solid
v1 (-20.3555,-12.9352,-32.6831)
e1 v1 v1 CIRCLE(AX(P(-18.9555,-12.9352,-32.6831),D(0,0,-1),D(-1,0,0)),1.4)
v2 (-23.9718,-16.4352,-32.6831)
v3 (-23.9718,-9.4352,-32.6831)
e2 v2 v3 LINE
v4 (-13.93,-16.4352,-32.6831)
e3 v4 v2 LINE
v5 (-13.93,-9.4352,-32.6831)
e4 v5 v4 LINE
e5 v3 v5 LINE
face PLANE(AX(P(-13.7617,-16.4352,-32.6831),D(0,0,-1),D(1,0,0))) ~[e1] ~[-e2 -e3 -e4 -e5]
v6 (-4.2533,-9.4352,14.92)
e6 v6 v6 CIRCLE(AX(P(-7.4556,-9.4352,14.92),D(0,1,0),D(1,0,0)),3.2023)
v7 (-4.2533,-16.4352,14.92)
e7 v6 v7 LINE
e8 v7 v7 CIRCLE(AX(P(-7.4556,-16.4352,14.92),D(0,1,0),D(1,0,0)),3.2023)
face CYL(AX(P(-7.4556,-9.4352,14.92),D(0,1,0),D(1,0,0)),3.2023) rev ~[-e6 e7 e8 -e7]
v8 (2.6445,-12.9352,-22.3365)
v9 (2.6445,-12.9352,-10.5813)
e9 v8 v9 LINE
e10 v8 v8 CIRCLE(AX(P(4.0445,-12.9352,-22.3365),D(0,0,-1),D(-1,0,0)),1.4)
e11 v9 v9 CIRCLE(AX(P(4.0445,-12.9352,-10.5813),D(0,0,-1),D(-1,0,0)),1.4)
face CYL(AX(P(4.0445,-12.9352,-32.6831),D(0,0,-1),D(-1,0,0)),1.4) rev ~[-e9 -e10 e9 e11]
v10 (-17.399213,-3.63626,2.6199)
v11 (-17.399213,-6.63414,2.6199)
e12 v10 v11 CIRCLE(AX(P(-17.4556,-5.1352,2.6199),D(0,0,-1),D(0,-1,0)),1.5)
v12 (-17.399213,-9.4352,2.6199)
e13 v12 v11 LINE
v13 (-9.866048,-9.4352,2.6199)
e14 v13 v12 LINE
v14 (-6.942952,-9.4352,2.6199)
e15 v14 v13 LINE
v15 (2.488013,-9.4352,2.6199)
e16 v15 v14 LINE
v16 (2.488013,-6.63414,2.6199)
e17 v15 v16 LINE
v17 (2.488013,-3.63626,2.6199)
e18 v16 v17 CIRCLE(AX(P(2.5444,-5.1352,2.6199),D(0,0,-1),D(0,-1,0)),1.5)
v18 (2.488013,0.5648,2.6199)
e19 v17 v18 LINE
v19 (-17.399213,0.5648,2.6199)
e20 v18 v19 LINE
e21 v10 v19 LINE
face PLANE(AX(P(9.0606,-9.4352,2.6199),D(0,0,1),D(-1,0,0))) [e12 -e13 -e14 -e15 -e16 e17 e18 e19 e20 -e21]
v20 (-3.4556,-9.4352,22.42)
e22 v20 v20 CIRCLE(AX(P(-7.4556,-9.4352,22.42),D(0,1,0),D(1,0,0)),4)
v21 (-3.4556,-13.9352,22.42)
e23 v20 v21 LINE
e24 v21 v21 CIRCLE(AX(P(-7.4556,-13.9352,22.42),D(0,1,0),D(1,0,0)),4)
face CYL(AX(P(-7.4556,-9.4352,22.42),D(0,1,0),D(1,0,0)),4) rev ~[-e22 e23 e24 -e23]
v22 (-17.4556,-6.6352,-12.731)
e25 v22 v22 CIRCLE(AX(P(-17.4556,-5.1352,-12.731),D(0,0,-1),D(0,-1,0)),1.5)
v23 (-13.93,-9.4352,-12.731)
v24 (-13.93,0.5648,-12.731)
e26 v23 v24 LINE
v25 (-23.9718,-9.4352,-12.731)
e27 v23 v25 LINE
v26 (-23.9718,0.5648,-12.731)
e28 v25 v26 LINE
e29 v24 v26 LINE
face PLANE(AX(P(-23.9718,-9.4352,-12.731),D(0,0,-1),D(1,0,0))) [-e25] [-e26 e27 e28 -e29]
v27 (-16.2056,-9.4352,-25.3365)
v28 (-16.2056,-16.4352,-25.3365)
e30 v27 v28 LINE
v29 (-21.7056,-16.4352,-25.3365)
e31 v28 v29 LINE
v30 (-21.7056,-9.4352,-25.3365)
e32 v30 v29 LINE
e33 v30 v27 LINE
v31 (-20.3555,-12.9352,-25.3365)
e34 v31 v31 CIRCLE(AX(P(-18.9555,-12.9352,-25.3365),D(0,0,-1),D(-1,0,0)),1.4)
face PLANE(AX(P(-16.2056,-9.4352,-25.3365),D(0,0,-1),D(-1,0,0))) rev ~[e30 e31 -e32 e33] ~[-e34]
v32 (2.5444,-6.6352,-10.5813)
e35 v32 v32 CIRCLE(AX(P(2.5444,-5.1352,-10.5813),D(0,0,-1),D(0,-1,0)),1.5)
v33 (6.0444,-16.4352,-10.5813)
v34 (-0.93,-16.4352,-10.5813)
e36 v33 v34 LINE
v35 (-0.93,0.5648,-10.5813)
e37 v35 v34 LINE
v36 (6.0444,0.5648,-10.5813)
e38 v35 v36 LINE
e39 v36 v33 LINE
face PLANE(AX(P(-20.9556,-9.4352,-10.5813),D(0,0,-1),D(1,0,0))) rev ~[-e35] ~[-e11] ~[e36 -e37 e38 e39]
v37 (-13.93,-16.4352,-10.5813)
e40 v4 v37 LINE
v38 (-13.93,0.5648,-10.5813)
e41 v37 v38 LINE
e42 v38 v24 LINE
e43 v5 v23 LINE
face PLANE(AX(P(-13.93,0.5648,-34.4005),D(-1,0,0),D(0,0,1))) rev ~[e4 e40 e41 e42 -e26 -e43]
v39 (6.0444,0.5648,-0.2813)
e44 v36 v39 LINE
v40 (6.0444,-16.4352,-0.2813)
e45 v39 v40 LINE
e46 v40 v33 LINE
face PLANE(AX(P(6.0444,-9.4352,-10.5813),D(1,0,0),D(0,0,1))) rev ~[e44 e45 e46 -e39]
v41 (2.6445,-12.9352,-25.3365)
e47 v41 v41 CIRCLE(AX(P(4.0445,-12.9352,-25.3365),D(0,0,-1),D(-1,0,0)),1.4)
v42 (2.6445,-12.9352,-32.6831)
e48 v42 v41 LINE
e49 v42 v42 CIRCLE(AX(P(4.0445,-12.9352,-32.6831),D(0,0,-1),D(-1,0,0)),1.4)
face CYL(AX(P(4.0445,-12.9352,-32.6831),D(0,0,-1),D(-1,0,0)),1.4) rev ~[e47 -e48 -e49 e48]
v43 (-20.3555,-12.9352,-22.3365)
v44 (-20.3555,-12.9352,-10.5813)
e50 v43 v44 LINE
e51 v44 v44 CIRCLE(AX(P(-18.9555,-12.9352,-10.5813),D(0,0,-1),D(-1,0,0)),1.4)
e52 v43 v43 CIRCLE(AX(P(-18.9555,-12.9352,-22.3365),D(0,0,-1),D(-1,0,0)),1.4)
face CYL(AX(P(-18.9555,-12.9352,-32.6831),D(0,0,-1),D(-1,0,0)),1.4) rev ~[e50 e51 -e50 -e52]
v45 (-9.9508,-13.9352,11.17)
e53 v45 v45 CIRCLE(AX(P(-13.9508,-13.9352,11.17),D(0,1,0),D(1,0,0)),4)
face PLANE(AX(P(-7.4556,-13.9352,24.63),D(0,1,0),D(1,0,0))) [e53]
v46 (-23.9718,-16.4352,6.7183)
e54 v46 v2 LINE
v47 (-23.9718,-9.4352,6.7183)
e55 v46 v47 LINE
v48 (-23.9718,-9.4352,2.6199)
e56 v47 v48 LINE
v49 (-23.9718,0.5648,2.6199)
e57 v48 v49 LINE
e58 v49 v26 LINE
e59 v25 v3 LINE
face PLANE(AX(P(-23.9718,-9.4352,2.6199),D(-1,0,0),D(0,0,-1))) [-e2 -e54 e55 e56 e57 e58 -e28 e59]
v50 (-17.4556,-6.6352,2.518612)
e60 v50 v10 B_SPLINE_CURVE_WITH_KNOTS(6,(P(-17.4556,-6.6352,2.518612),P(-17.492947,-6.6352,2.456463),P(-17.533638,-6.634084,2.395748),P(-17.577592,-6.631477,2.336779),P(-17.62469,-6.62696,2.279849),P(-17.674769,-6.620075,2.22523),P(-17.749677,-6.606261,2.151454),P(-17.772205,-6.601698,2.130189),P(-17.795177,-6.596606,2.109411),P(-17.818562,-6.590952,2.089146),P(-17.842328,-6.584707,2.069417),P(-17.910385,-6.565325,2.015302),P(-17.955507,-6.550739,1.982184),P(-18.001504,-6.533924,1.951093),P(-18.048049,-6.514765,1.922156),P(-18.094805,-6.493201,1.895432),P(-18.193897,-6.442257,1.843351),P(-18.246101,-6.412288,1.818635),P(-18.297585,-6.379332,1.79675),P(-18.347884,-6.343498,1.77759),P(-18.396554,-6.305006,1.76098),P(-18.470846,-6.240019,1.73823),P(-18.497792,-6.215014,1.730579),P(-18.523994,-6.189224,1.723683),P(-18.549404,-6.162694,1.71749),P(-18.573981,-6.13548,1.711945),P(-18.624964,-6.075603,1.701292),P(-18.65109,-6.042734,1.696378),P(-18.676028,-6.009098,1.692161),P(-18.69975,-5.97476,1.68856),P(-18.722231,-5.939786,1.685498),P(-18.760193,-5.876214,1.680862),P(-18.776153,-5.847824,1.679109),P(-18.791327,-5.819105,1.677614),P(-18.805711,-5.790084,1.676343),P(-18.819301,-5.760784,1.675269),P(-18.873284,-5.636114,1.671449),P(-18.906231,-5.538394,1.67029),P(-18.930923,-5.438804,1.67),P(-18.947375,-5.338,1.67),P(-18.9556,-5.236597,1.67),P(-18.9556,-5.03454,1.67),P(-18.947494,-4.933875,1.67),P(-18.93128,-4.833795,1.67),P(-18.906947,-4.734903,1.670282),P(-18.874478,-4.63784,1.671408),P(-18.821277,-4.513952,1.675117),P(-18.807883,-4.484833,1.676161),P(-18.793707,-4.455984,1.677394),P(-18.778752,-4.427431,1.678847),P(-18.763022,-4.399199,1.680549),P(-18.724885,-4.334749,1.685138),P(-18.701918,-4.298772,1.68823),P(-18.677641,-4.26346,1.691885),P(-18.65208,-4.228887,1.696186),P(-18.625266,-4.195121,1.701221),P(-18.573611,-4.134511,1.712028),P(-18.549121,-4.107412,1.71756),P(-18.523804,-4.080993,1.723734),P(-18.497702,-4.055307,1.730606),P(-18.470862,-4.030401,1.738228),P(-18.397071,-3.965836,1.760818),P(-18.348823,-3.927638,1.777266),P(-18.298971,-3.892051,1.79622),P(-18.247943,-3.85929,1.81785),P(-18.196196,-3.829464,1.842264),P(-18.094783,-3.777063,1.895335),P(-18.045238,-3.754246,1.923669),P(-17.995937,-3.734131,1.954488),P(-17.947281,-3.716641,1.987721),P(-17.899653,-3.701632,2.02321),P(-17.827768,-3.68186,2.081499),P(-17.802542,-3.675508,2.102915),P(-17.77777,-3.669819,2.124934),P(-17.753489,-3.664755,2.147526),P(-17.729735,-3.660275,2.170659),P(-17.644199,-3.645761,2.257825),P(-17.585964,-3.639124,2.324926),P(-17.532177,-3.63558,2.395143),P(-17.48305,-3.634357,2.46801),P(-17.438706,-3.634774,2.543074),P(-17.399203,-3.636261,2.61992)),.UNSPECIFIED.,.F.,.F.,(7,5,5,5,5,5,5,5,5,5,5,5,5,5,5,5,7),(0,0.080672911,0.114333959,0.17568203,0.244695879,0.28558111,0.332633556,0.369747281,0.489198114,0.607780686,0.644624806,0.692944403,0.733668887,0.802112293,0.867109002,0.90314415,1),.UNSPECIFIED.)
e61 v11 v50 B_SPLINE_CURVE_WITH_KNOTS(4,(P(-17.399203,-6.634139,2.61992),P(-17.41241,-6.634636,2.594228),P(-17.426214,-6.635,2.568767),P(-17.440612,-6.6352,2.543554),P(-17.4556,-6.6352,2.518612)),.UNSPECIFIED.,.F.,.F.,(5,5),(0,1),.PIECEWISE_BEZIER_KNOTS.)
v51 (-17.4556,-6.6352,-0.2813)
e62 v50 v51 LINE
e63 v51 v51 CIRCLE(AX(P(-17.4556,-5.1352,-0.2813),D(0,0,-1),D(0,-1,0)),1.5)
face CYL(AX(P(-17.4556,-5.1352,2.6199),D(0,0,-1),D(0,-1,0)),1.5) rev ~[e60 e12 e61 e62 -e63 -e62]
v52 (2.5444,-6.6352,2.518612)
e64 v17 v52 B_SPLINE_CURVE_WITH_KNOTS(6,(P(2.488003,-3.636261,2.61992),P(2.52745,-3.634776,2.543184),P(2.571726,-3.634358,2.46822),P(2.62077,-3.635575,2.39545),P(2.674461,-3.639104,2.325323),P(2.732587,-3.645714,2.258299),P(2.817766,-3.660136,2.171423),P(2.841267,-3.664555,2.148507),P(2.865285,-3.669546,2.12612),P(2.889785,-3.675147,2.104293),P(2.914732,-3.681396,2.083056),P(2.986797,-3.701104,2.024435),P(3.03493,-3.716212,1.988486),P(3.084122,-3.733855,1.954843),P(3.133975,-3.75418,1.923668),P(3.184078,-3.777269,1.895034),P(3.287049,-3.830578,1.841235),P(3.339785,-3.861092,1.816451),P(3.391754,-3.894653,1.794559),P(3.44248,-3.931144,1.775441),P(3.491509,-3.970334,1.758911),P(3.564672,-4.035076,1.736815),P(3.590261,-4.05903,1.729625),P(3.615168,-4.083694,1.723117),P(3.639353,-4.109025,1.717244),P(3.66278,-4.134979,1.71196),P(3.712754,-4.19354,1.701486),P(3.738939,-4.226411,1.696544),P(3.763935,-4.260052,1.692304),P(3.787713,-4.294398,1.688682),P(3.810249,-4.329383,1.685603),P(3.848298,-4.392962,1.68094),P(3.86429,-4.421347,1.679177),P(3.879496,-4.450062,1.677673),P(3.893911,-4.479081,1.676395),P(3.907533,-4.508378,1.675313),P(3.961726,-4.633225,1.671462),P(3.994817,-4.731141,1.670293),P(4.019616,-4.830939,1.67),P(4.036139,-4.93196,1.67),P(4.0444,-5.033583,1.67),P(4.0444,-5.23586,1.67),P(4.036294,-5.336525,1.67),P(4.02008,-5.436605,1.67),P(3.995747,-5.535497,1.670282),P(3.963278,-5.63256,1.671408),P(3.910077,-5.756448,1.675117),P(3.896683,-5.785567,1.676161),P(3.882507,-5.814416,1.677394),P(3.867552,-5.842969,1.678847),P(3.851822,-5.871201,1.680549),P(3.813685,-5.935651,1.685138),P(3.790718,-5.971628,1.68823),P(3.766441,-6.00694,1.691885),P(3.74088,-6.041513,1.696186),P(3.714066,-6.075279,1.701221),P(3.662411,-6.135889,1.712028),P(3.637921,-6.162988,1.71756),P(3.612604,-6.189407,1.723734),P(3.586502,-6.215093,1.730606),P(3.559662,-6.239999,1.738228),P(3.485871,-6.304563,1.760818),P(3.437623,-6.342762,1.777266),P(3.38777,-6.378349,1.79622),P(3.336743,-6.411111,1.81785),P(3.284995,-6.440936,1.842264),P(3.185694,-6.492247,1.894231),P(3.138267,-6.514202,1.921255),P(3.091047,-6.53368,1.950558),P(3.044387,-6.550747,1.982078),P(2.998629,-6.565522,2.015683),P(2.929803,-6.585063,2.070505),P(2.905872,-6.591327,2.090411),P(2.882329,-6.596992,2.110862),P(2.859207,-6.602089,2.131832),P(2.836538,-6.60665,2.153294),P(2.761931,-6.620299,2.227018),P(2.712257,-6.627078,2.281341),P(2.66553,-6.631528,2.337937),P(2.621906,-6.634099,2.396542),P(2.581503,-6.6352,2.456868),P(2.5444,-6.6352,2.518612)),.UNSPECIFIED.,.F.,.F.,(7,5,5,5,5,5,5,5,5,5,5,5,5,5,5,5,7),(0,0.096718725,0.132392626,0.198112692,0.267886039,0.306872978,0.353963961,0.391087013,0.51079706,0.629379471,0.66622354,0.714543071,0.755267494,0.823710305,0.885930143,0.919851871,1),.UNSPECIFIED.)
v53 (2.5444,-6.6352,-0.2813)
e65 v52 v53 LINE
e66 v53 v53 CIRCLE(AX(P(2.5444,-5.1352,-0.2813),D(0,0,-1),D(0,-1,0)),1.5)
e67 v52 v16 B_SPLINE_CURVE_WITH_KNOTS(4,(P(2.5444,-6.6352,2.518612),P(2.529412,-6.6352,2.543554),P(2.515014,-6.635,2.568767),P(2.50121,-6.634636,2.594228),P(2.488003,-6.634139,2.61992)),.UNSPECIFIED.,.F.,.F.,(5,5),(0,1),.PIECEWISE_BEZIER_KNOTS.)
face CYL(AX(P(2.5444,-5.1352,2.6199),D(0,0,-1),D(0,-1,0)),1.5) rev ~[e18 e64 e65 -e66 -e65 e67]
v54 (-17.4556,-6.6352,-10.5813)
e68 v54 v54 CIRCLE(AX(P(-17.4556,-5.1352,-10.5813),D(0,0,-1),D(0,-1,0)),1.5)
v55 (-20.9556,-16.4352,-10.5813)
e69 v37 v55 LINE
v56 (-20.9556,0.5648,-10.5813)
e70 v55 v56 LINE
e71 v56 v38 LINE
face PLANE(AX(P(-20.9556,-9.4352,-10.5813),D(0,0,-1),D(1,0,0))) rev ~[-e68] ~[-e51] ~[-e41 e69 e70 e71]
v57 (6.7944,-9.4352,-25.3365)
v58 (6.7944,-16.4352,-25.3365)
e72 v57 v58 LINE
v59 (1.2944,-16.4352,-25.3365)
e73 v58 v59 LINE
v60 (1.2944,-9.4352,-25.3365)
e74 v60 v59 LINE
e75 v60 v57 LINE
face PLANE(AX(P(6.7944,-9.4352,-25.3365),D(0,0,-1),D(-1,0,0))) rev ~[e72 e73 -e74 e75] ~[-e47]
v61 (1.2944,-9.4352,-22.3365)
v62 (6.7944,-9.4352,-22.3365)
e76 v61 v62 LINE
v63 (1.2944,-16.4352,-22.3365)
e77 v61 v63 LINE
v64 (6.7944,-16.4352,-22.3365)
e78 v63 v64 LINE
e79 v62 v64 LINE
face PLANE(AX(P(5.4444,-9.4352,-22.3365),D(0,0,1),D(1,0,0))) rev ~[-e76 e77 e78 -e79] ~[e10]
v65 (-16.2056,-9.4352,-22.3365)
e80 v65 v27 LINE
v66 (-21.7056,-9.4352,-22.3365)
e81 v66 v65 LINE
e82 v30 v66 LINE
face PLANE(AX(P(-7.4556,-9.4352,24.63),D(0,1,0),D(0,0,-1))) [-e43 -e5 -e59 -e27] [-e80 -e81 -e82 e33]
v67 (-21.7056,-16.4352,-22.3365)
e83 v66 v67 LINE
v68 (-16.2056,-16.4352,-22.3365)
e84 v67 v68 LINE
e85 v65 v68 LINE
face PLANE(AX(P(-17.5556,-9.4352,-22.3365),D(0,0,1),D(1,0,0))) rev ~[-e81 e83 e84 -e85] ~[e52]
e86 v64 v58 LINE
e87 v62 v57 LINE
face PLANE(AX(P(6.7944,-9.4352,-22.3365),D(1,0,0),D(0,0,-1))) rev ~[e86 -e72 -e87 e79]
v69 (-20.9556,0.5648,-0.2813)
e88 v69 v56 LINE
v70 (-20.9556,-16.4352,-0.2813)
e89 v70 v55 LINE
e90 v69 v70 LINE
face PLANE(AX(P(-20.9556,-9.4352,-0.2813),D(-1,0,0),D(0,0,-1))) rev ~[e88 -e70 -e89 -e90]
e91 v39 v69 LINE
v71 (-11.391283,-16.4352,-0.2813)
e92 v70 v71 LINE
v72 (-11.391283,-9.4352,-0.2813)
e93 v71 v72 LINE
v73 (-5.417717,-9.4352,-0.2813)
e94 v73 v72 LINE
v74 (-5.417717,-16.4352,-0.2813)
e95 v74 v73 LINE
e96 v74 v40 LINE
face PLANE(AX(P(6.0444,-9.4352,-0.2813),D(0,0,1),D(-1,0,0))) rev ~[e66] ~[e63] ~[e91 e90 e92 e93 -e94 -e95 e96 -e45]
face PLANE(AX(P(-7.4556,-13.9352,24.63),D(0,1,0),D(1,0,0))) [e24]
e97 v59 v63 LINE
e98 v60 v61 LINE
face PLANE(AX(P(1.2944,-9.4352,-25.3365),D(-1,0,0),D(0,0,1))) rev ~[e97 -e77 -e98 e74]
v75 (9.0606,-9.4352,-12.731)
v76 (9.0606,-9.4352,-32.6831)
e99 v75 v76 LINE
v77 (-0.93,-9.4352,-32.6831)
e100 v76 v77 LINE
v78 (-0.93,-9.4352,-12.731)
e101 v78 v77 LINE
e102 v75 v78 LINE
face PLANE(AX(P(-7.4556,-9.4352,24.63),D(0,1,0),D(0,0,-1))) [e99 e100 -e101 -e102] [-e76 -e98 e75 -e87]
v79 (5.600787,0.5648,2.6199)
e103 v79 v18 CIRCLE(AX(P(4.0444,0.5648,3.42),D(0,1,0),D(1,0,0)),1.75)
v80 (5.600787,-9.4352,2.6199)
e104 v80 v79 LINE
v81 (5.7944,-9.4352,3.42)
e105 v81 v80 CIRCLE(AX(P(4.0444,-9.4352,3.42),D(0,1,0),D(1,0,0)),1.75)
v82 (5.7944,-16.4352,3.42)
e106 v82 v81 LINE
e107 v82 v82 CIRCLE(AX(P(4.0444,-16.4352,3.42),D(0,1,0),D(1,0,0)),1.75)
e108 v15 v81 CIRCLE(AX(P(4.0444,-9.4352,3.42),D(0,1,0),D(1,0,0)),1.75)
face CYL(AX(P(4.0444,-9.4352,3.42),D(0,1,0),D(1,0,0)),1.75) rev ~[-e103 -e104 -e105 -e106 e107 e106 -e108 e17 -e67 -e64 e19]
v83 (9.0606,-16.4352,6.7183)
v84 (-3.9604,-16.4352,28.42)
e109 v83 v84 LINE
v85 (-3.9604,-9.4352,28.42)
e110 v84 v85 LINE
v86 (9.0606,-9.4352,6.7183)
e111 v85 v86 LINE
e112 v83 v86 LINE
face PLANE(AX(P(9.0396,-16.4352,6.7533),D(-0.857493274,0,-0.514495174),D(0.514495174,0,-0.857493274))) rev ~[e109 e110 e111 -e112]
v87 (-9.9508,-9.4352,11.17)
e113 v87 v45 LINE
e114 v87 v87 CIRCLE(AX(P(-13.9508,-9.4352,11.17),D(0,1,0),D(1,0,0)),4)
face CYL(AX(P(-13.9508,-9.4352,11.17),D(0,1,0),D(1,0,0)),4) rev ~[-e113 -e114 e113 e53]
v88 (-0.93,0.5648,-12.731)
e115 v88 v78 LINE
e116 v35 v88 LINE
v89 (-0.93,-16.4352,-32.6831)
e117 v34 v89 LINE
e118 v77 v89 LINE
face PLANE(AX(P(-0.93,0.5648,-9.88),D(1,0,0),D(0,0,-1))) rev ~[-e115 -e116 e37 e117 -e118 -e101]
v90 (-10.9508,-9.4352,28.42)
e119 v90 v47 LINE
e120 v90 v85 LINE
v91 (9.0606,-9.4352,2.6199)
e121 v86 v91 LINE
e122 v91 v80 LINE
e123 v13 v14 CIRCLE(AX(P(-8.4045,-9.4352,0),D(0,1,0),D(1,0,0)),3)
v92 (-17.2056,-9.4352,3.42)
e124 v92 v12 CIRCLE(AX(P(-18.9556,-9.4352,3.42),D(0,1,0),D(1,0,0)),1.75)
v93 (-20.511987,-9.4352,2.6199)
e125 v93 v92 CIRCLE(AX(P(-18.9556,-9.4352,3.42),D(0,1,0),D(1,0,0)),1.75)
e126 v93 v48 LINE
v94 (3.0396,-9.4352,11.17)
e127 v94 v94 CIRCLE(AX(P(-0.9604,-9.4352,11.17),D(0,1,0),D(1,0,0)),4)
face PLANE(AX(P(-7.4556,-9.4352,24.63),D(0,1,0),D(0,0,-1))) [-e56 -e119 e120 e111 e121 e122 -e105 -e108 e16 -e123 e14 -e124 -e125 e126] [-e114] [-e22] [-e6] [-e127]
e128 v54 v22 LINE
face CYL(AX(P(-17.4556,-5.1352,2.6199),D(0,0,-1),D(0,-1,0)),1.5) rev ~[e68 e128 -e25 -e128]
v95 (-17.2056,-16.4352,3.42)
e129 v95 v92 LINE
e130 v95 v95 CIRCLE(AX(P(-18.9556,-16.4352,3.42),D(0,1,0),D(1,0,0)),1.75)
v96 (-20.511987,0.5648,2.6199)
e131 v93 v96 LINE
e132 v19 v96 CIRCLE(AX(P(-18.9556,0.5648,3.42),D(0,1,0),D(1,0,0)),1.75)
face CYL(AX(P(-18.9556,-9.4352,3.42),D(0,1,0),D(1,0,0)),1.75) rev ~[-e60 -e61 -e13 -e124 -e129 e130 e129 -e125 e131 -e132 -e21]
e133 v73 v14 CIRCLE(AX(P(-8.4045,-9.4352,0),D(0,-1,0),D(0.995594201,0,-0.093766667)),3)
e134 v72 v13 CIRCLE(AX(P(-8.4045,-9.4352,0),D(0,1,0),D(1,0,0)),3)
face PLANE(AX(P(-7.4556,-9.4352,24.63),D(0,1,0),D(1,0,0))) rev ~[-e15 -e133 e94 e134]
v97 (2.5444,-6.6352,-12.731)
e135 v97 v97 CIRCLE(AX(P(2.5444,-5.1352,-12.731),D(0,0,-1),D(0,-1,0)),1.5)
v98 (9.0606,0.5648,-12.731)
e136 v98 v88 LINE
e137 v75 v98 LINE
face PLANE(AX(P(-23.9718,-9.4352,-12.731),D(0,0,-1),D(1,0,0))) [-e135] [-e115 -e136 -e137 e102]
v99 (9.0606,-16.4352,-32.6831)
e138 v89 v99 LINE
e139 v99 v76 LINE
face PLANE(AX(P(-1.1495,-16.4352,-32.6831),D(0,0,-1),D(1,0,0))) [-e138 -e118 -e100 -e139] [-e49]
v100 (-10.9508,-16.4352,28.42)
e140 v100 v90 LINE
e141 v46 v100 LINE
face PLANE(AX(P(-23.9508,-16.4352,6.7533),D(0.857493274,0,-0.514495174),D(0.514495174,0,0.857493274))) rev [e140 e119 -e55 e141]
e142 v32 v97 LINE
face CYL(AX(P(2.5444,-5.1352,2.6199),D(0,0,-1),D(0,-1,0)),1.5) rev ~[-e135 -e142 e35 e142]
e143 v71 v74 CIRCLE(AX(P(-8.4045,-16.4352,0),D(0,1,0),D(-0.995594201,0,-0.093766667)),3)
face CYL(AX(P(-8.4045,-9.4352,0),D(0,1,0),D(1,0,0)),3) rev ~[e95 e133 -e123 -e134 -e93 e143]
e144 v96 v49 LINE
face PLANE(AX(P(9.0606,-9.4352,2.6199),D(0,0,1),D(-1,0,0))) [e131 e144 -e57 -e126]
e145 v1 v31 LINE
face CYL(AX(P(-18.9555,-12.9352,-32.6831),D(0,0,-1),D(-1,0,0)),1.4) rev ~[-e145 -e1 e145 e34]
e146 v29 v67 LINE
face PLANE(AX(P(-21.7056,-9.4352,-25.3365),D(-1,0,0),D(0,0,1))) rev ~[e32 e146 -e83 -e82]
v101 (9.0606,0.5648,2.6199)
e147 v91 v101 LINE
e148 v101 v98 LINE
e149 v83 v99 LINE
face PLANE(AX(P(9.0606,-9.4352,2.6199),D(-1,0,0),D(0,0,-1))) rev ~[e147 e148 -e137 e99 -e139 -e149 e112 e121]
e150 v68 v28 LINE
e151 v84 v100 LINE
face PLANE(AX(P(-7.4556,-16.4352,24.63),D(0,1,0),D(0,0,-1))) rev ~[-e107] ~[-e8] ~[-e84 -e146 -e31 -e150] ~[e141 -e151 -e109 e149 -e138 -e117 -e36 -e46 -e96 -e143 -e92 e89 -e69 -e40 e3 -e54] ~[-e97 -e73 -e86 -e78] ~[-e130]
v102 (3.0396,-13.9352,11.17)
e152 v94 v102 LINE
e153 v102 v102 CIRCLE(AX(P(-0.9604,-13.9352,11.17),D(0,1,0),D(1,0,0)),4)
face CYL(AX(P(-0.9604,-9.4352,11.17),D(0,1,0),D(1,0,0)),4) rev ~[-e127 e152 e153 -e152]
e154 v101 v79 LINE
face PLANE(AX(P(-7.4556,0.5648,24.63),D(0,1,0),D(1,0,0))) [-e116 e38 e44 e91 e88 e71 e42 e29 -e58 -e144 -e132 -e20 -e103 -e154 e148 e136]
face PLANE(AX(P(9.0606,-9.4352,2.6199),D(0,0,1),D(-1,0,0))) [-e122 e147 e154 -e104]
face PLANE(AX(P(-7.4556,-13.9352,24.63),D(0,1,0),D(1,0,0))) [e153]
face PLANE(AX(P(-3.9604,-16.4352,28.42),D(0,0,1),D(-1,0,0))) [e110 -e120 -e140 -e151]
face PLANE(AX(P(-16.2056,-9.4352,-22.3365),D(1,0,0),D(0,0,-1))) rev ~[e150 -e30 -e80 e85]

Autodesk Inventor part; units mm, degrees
ref_plane "YZ Plane" through (0, 0, 0) normal (1, 0, 0) x (0, 1, 0)
ref_plane "XZ Plane" through (0, 0, 0) normal (0, 1, 0) x (-1, 0, 0)
ref_plane "XY Plane" through (0, 0, 0) normal (0, 0, 1) x (1, 0, 0)
ref_plane "Work Plane8" through (-7.4556, -16.4352, 24.63) normal (0, 1, 0) x (0, 0, -1)
sketch "Sketch12" plane through (-7.4556, -16.4352, 24.63) normal (0, 1, 0) x (0, 0, -1)
  line L0 (59.1648, 4.9103) -> (72.1552, 12.4103) construction
  arc A0 (80.66, 7.5) -> (72.1552, 12.4103) centre (70.66, 0) ccw construction
  line L1 (80.66, 7.5) -> (80.66, -7.5) construction
  arc A1 (72.1552, -12.4103) -> (80.66, -7.5) centre (70.66, 0) ccw construction
  line L2 (72.1552, -12.4103) -> (59.1648, -4.9103) construction
  arc A2 (59.1648, 4.9103) -> (59.1648, -4.9103) centre (70.66, 0) ccw construction
  line L3 (57.3131, 5.945) -> (46.6951, 5.945) construction
  line L4 (46.6951, 5.945) -> (46.6951, -5.9961)
  line L5 (46.6951, -5.9961) -> (57.3131, -5.9961)
  line L6 (57.3131, -5.9961) -> (57.3131, -15)
  line L7 (57.3131, -15) -> (85.66, -15) construction
  line L8 (85.66, -15) -> (85.66, 15) construction
  line L9 (85.66, 15) -> (57.3131, 15) construction
  line L10 (57.3131, 15) -> (57.3131, 5.945) construction
  line L11 (46.6951, -6.3061) -> (57.3131, -6.3061)
  line L12 (41.63, -16.87) -> (45.71, -16.87) projected
  line L13 (55.66, -15) -> (46.2855, -13.3689) projected
  line L14 (55.66, -15) -> (105.1976, -15) construction
  line L15 (46.6951, 0) -> (46.6951, -6.3061)
  line L16 (9.71, -3.1754) -> (12.46, -1.5877) construction
  line L17 (12.46, -1.5877) -> (12.46, 1.5877) construction
  line L18 (12.46, 1.5877) -> (9.71, 3.1754) construction
  line L19 (9.71, 3.1754) -> (6.96, 1.5877) construction
  line L20 (6.96, 1.5877) -> (6.96, -1.5877) construction
  line L21 (6.96, -1.5877) -> (9.71, -3.1754) construction
  line L22 (-3.79, -3.4952) -> (-3.79, 3.4952)
  line L23 (-3.79, 0) -> (-3.79, 0)
  line L24 (-3.79, 0) -> (-3.79, -3.4952)
  line L25 (-3.79, -3.4952) -> (17.9117, -16.5162)
  line L26 (46.6951, 0) -> (-3.79, 0)
  line L27 (57.3131, -6.3061) -> (57.3131, -15)
  line L28 (57.3131, -15) -> (37.3669, -15)
  line L29 (-3.79, -8.16) -> (-3.79, 8.16) projected
  line L30 (19.46, 16.4952) -> (10.1021, 16.4952) projected
  line L31 (19.46, -16.4952) -> (19.46, 16.4952) projected
  line L32 (10.1021, -16.4952) -> (19.46, -16.4952) projected
  line L33 (10.1021, 16.4952) -> (-3.79, 8.16) projected
  line L34 (-3.79, -8.16) -> (10.1021, -16.4952) projected
  line L35 (17.9117, -16.5162) -> (57.3131, -16.5162)
  line L36 (57.3131, -16.5162) -> (57.3131, -15)
  line L37 (57.3131, -15) -> (37.3669, -15)
  line L38 (39.63, 0) -> (49.93, 0)
  line L39 (49.93, 0) -> (49.93, -12.8511)
  line L40 (49.93, -12.8511) -> (39.63, -12.8511)
  line L41 (39.63, -12.8511) -> (39.63, 0)
  line L42 (52.63, -16.0211) -> (18.69, -16.0211) construction
  line L43 (18.69, 17.9189) -> (52.63, 17.9189) projected
  arc A3 (48.3173, -4.8992) -> (48.4594, -5.1011) centre (48.5983, -4.8523) ccw projected
  line L44 (48.4594, -5.1011) -> (52.63, -5.1011) projected
  line L45 (52.63, -5.1011) -> (52.63, 6.9989) projected
  line L46 (48.4594, 6.9989) -> (52.63, 6.9989) projected
  arc A4 (48.4594, 6.9989) -> (48.3173, 6.7971) centre (48.5983, 6.7502) ccw projected
  arc A5 (47.9241, 6.5003) -> (48.3173, 6.7971) centre (47.4153, 7.5832) ccw projected
  arc A6 (47.9241, 6.5003) -> (47.8129, 6.374) centre (48.0446, 6.2821) ccw projected
  line L47 (47.7741, 5.8769) -> (47.8129, 6.374) projected
  arc A7 (47.5555, 5.6489) -> (47.7741, 5.8769) centre (47.5256, 5.8964) ccw projected
  line L48 (47.1044, 5.6489) -> (47.5555, 5.6489) projected
  arc A8 (46.8561, 5.8765) -> (47.1044, 5.6489) centre (47.1044, 5.8982) ccw projected
  line L49 (46.8241, 6.242) -> (46.8561, 5.8765) projected
  arc A9 (46.8241, 6.242) -> (46.6712, 6.5003) centre (46.5764, 6.2698) ccw projected
  arc A10 (46.1533, 6.8443) -> (46.6712, 6.5003) centre (47.0626, 7.6514) ccw projected
  arc A11 (46.1533, 6.8443) -> (45.93, 6.9989) centre (45.9227, 6.7498) ccw projected
  line L50 (45.33, 6.9989) -> (45.93, 6.9989) projected
  line L51 (44.83, 6.4989) -> (45.33, 6.9989) projected
  line L52 (44.83, 6.4989) -> (44.83, -4.6011) projected
  line L53 (44.83, -4.6011) -> (45.33, -5.1011) projected
  line L54 (45.33, -5.1011) -> (45.93, -5.1011) projected
  arc A12 (45.93, -5.1011) -> (46.1533, -4.9464) centre (45.9227, -4.8519) ccw projected
  arc A13 (46.6712, -4.6024) -> (46.1533, -4.9464) centre (47.0626, -5.7535) ccw projected
  arc A14 (46.6712, -4.6024) -> (46.8241, -4.3441) centre (46.5764, -4.3719) ccw projected
  line L55 (46.8241, -4.3441) -> (46.8561, -3.9786) projected
  arc A15 (47.1044, -3.7511) -> (46.8561, -3.9786) centre (47.1044, -4.0003) ccw projected
  line L56 (47.1044, -3.7511) -> (47.5555, -3.7511) projected
  arc A16 (47.7741, -3.9791) -> (47.5555, -3.7511) centre (47.5256, -3.9985) ccw projected
  line L57 (47.7741, -3.9791) -> (47.8129, -4.4761) projected
  arc A17 (47.8129, -4.4761) -> (47.9241, -4.6024) centre (48.0446, -4.3842) ccw projected
  arc A18 (48.3173, -4.8992) -> (47.9241, -4.6024) centre (47.4153, -5.6854) ccw projected
  arc A19 (48.2566, -4.8959) -> (47.7572, -4.3183) centre (47.1462, -5.3511) ccw construction
  arc A20 (47.6355, -4.1249) -> (47.7572, -4.3183) centre (47.8845, -4.1031) ccw construction
  line L58 (47.6355, -4.1249) -> (47.6053, -3.7793) construction
  arc A21 (47.6053, -3.7793) -> (47.3562, -3.5511) centre (47.3562, -3.8011) ccw construction
  line L59 (47.3562, -3.5511) -> (46.9038, -3.5511) construction
  arc A22 (46.9038, -3.5511) -> (46.6547, -3.7793) centre (46.9038, -3.8011) ccw construction
  line L60 (46.6547, -3.7793) -> (46.6227, -4.1458) construction
  arc A23 (46.5068, -4.3356) -> (46.6227, -4.1458) centre (46.3736, -4.124) ccw construction
  arc A24 (46.5068, -4.3356) -> (46.0359, -4.8959) centre (47.1462, -5.3511) ccw construction
  arc A25 (45.8046, -5.0511) -> (46.0359, -4.8959) centre (45.8046, -4.8011) ccw construction
  line L61 (45.8046, -5.0511) -> (45.13, -5.0511) construction
  line L62 (45.13, -5.0511) -> (44.63, -4.5511) construction
  line L63 (44.63, -4.5511) -> (44.63, 6.4489) construction
  line L64 (44.63, 6.4489) -> (45.13, 6.9489) construction
  line L65 (45.13, 6.9489) -> (45.8046, 6.9489) construction
  arc A26 (46.0359, 6.7938) -> (45.8046, 6.9489) centre (45.8046, 6.6989) ccw construction
  arc A27 (46.0359, 6.7938) -> (46.5068, 6.2335) centre (47.1462, 7.2489) ccw construction
  arc A28 (46.6227, 6.0437) -> (46.5068, 6.2335) centre (46.3736, 6.0219) ccw construction
  line L66 (46.6227, 6.0437) -> (46.6547, 5.6771) construction
  arc A29 (46.6547, 5.6771) -> (46.9038, 5.4489) centre (46.9038, 5.6989) ccw construction
  line L67 (46.9038, 5.4489) -> (47.3562, 5.4489) construction
  arc A30 (47.3562, 5.4489) -> (47.6053, 5.6771) centre (47.3562, 5.6989) ccw construction
  line L68 (47.6053, 5.6771) -> (47.6355, 6.0228) construction
  arc A31 (47.7572, 6.2161) -> (47.6355, 6.0228) centre (47.8845, 6.001) ccw construction
  arc A32 (47.7572, 6.2161) -> (48.2566, 6.7938) centre (47.1462, 7.2489) ccw construction
  arc A33 (48.4879, 6.9489) -> (48.2566, 6.7938) centre (48.4879, 6.6989) ccw construction
  line L69 (48.4879, 6.9489) -> (49.63, 6.9489) construction
  line L70 (49.63, 6.9489) -> (49.63, 13.8489) construction
  line L71 (49.63, 13.8489) -> (49.03, 14.4489) construction
  line L72 (49.03, 14.4489) -> (45.63, 14.4489) construction
  arc A34 (44.83, 14.4489) -> (45.63, 14.4489) centre (45.23, 14.7489) ccw construction
  line L73 (44.83, 14.4489) -> (40.23, 14.4489) construction
  line L74 (40.23, 14.4489) -> (39.63, 13.8489) construction
  line L75 (39.63, 13.8489) -> (39.63, 7.3489) construction
  line L76 (39.63, 7.3489) -> (40.03, 6.9489) construction
  line L77 (40.03, 6.9489) -> (40.03, -5.0511) construction
  line L78 (40.03, -5.0511) -> (39.63, -5.4511) construction
  line L79 (39.63, -5.4511) -> (39.63, -11.951) construction
  line L80 (39.63, -11.951) -> (40.23, -12.5511) construction
  line L81 (40.23, -12.5511) -> (49.03, -12.5511) construction
  line L82 (49.03, -12.5511) -> (49.63, -11.9511) construction
  line L83 (49.63, -11.9511) -> (49.63, -5.0511) construction
  line L84 (49.63, -5.0511) -> (48.4879, -5.0511) construction
  arc A35 (48.2566, -4.8959) -> (48.4879, -5.0511) centre (48.4879, -4.8011) ccw construction
  point P0 (24.63, -7.4556)
  point P1 (11.21, -12.4952)
  point P2 (19.46, 12.4952)
  point P3 (19.46, -12.4952)
  dimension "d114" = 5.1011
  dimension "d115" = 6.9989
  dimension "d116" = 0.3
  dimension "d117" = 0.3
extrude "Extrusion11" add sketch "Sketch12" along normal blind 7 contours L38 L39 L44 A3 A18 A17 L57 A16 L56 A15 L55 A14 L4 | L4 A14 A13 A12 L54 L53 L52 L26 | A14 L55 A15 L56 A16 L57 A17 A18 A3 L44 L39 L5 L4 | L4 L15 L11 L39 L40 L41 L26 L52 L53 L54 A12 A13 A14 | L5 L39 L11 L15 | L41 L40 L39 L11 L6 L36 L35 L25 L32 L31 L26 | L31 L32 L25 L22 L26
sketch "Sketch13" plane through (-7.4556, -9.4352, 24.63) normal (0, 1, 0) x (1, 0, 0)
  line L0 (-13.1744, 24.9113) -> (13.5, 24.9113)
  line L1 (13.5, 24.9113) -> (13.5, 35.2113)
  line L2 (13.5, 35.2113) -> (-13.1744, 35.2113)
  line L3 (-13.1744, 35.2113) -> (-13.1744, 24.9113)
  line L4 (-13.5, 34.3113) -> (-13.5, 26.5113) construction
  line L5 (-13.5, 26.5113) -> (-12.3, 25.3113) construction
  line L6 (-12.3, 25.3113) -> (11.7, 25.3113) construction
  line L7 (11.7, 25.3113) -> (12.9, 26.5113) construction
  line L8 (12.9, 26.5113) -> (12.9, 34.3113) construction
  line L9 (12.9, 34.3113) -> (12.3, 34.9113) construction
  line L10 (12.3, 34.9113) -> (5.7, 34.9113) construction
  line L11 (5.7, 34.9113) -> (5.7, 33.7692) construction
  arc A0 (5.5448, 33.5379) -> (5.7, 33.7692) centre (5.45, 33.7692) ccw construction
  arc A1 (5.5448, 33.5379) -> (4.9672, 33.0386) centre (6, 32.4276) ccw construction
  arc A2 (4.7738, 32.9168) -> (4.9672, 33.0386) centre (4.752, 33.1659) ccw construction
  line L12 (4.7738, 32.9168) -> (4.4282, 32.8866) construction
  arc A3 (4.4282, 32.8866) -> (4.2, 32.6375) centre (4.45, 32.6375) ccw construction
  line L13 (4.2, 32.6375) -> (4.2, 32.1851) construction
  arc A4 (4.2, 32.1851) -> (4.4282, 31.9361) centre (4.45, 32.1851) ccw construction
  line L14 (4.4282, 31.9361) -> (4.7947, 31.904) construction
  arc A5 (4.9845, 31.7882) -> (4.7947, 31.904) centre (4.773, 31.6549) ccw construction
  arc A6 (4.9845, 31.7882) -> (5.5448, 31.3172) centre (6, 32.4276) ccw construction
  arc A7 (5.7, 31.0859) -> (5.5448, 31.3172) centre (5.45, 31.0859) ccw construction
  line L15 (5.7, 31.0859) -> (5.7, 30.4113) construction
  line L16 (5.7, 30.4113) -> (5.2, 29.9113) construction
  line L17 (5.2, 29.9113) -> (-5.8, 29.9113) construction
  line L18 (-5.8, 29.9113) -> (-6.3, 30.4113) construction
  line L19 (-6.3, 30.4113) -> (-6.3, 31.0859) construction
  arc A8 (-6.1448, 31.3172) -> (-6.3, 31.0859) centre (-6.05, 31.0859) ccw construction
  arc A9 (-6.1448, 31.3172) -> (-5.5845, 31.7882) centre (-6.6, 32.4276) ccw construction
  arc A10 (-5.3948, 31.904) -> (-5.5845, 31.7882) centre (-5.373, 31.6549) ccw construction
  line L20 (-5.3948, 31.904) -> (-5.0282, 31.9361) construction
  arc A11 (-5.0282, 31.9361) -> (-4.8, 32.1851) centre (-5.05, 32.1851) ccw construction
  line L21 (-4.8, 32.1851) -> (-4.8, 32.6375) construction
  arc A12 (-4.8, 32.6375) -> (-5.0282, 32.8866) centre (-5.05, 32.6375) ccw construction
  line L22 (-5.0282, 32.8866) -> (-5.3738, 32.9168) construction
  arc A13 (-5.5672, 33.0386) -> (-5.3738, 32.9168) centre (-5.352, 33.1659) ccw construction
  arc A14 (-5.5672, 33.0386) -> (-6.1448, 33.5379) centre (-6.6, 32.4276) ccw construction
  arc A15 (-6.3, 33.7692) -> (-6.1448, 33.5379) centre (-6.05, 33.7692) ccw construction
  line L23 (-6.3, 33.7692) -> (-6.3, 34.9113) construction
  line L24 (-6.3, 34.9113) -> (-12.9, 34.9113) construction
  line L25 (-12.9, 34.9113) -> (-13.5, 34.3113) construction
  circle A16 centre (-7.2, 27.9063) radius 2.1 construction
  circle A17 centre (6.6, 27.9063) radius 2.1 construction
  arc A18 (5.5448, 33.5379) -> (4.9672, 33.0386) centre (6, 32.4276) ccw construction
  arc A19 (4.7738, 32.9168) -> (4.9672, 33.0386) centre (4.752, 33.1659) ccw construction
  line L26 (4.7738, 32.9168) -> (4.4282, 32.8866) construction
  arc A20 (4.4282, 32.8866) -> (4.2, 32.6375) centre (4.45, 32.6375) ccw construction
  line L27 (4.2, 32.6375) -> (4.2, 32.1851) construction
  arc A21 (4.2, 32.1851) -> (4.4282, 31.9361) centre (4.45, 32.1851) ccw construction
  line L28 (4.4282, 31.9361) -> (4.7948, 31.904) construction
  arc A22 (4.9845, 31.7882) -> (4.7948, 31.904) centre (4.773, 31.6549) ccw construction
  arc A23 (4.9845, 31.7882) -> (5.5448, 31.3172) centre (6, 32.4276) ccw construction
  arc A24 (5.7, 31.0859) -> (5.5448, 31.3172) centre (5.45, 31.0859) ccw construction
  line L29 (5.7, 31.0859) -> (5.7, 30.4113) construction
  line L30 (5.7, 30.4113) -> (5.2, 29.9113) construction
  line L31 (5.2, 29.9113) -> (-5.8, 29.9113) construction
  line L32 (-5.8, 29.9113) -> (-6.3, 30.4113) construction
  line L33 (-6.3, 30.4113) -> (-6.3, 31.0859) construction
  arc A25 (-6.1448, 31.3172) -> (-6.3, 31.0859) centre (-6.05, 31.0859) ccw construction
  arc A26 (-6.1448, 31.3172) -> (-5.5846, 31.7882) centre (-6.6, 32.4276) ccw construction
  arc A27 (-5.3948, 31.904) -> (-5.5846, 31.7882) centre (-5.373, 31.6549) ccw construction
  line L34 (-5.3948, 31.904) -> (-5.0282, 31.9361) construction
  arc A28 (-5.0282, 31.9361) -> (-4.8, 32.1851) centre (-5.05, 32.1851) ccw construction
  line L35 (-4.8, 32.1851) -> (-4.8, 32.6375) construction
  arc A29 (-4.8, 32.6375) -> (-5.0282, 32.8866) centre (-5.05, 32.6375) ccw construction
  line L36 (-5.0282, 32.8866) -> (-5.3738, 32.9168) construction
  arc A30 (-5.5672, 33.0386) -> (-5.3738, 32.9168) centre (-5.3521, 33.1659) ccw construction
  arc A31 (-5.5672, 33.0386) -> (-6.1448, 33.5379) centre (-6.6, 32.4276) ccw construction
  arc A32 (-6.3, 33.7692) -> (-6.1448, 33.5379) centre (-6.05, 33.7692) ccw construction
  line L37 (-6.3, 33.7692) -> (-6.3, 34.9113) construction
  line L38 (-6.3, 34.9113) -> (-13.2, 34.9113) construction
  line L39 (-13.2, 34.9113) -> (-13.8, 34.3113) construction
  line L40 (-13.8, 34.3113) -> (-13.8, 30.9113) construction
  arc A33 (-13.8, 30.1113) -> (-13.8, 30.9113) centre (-14.1, 30.5113) ccw construction
  line L41 (-13.8, 30.1113) -> (-13.8, 25.5113) construction
  line L42 (-13.8, 25.5113) -> (-13.2, 24.9113) construction
  line L43 (-13.2, 24.9113) -> (-6.7, 24.9113) construction
  line L44 (-6.7, 24.9113) -> (-6.3, 25.3113) construction
  line L45 (-6.3, 25.3113) -> (5.7, 25.3113) construction
  line L46 (5.7, 25.3113) -> (6.1, 24.9113) construction
  line L47 (6.1, 24.9113) -> (12.6, 24.9113) construction
  line L48 (12.6, 24.9113) -> (13.2, 25.5113) construction
  line L49 (13.2, 25.5113) -> (13.2, 34.3113) construction
  line L50 (13.2, 34.3113) -> (12.6, 34.9113) construction
  line L51 (12.6, 34.9113) -> (5.7, 34.9113) construction
  line L52 (5.7, 34.9113) -> (5.7, 33.7692) construction
  arc A34 (5.5448, 33.5379) -> (5.7, 33.7692) centre (5.45, 33.7692) ccw construction
  point P0 (7.4556, 24.63)
  dimension "d110" = 0.3
  dimension "d111" = 0.3
extrude "Extrusion12" cut sketch "Sketch13" against normal through all
mirror "Mirror3" about plane through (-7.4556, -16.4352, -22.0651) normal (-1, 0, 0) of "Extrusion11", "Extrusion12"
sketch "Sketch17" plane through (-7.4556, -9.4352, 24.63) normal (0, 1, 0) x (1, 0, 0)
  circle A0 centre (6.4952, 13.46) radius 4 projected
  circle A1 centre (0, 2.21) radius 4 projected
  circle A2 centre (-6.4952, 13.46) radius 4 projected
  point P0 (7.4556, 24.63)
extrude "Extrusion16" cut sketch "Sketch17" against normal blind 4.5
sketch "Sketch18" plane through (-7.4556, -9.4352, 24.63) normal (0, 1, 0) x (1, 0, 0)
  line L0 (-16.5162, 17.9117) -> (-16.5162, 57.3131) projected
  line L1 (16.5162, 17.9117) -> (16.5162, 57.3131) projected
  line L2 (16.5162, 26.0101) -> (16.5162, 22.0101)
  line L3 (16.5162, 22.0101) -> (-16.5162, 22.0101)
  line L4 (-16.5162, 22.0101) -> (-16.5162, 26.0101)
  line L5 (15, 57.3131) -> (15, 37.2259) projected
  line L6 (-15, 37.2259) -> (15, 37.2259) construction
  line L7 (-16.5162, 37.361) -> (16.5162, 37.361)
  line L8 (16.5162, 17.9117) -> (16.5162, 57.3131) projected
  line L9 (-16.5162, 37.361) -> (16.5162, 37.361) construction
  line L10 (-13.5, 35.2113) -> (13.5, 35.2113)
  line L11 (13.5, 35.2113) -> (13.5, 24.9113)
  line L12 (13.5, 24.9113) -> (-13.5, 24.9113)
  line L13 (-13.5, 24.9113) -> (-13.5, 35.2113)
  line L14 (-16.5162, 37.361) -> (16.5162, 37.361)
  line L15 (16.5162, 37.361) -> (16.5162, 22.0101)
  line L16 (16.5162, 22.0101) -> (-16.5162, 22.0101)
  line L17 (-16.5162, 22.0101) -> (-16.5162, 37.361)
  point P0 (7.4556, 24.63)
  point P1 (15, 37.3669)
  dimension "d85" = 4
  dimension "d96" = 0
extrude "Extrusion17" add sketch "Sketch18" along normal blind 10
sketch "Sketch20" plane through (-7.4556, -9.4352, 24.63) normal (0, 1, 0) x (1, 0, 0)
  circle A0 centre (-10.5315, 68.5467) radius 1.4 projected
  circle A1 centre (8.7824, 68.5467) radius 1.4 projected
  arc A2 (-10.1298, 62.2055) -> (-10.9331, 62.2055) centre (-10.5315, 63.5467) ccw projected
  arc A3 (9.1841, 62.2055) -> (8.3808, 62.2055) centre (8.7824, 63.5467) ccw projected
  circle A4 centre (-10.5315, 63.5467) radius 1.4
  circle A5 centre (8.7824, 63.5467) radius 1.4
  point P0 (7.4556, 24.63)
extrude "Extrusion18" cut sketch "Sketch20" against normal blind 10
sketch "Sketch21" plane through (-7.4556, 0.5648, 24.63) normal (0, 1, 0) x (1, 0, 0)
  line L0 (-13.1744, 33.91) -> (-13.1744, 26.11) projected
  line L1 (-13.1744, 26.11) -> (-11.9744, 24.91) projected
  line L2 (-11.9744, 24.91) -> (12.0256, 24.91) projected
  line L3 (12.0256, 24.91) -> (13.2256, 26.11) projected
  line L4 (13.2256, 26.11) -> (13.2256, 33.91) projected
  line L5 (13.2256, 33.91) -> (12.6256, 34.51) projected
  line L6 (12.6256, 34.51) -> (6.0256, 34.51) projected
  line L7 (6.0256, 34.51) -> (6.0256, 33.3679) projected
  arc A0 (5.8704, 33.1366) -> (6.0256, 33.3679) centre (5.7756, 33.3679) ccw projected
  arc A1 (5.8704, 33.1366) -> (5.2928, 32.6373) centre (6.3256, 32.0262) ccw projected
  arc A2 (5.0994, 32.5155) -> (5.2928, 32.6373) centre (5.0776, 32.7645) ccw projected
  line L8 (5.0994, 32.5155) -> (4.7538, 32.4853) projected
  arc A3 (4.7538, 32.4853) -> (4.5256, 32.2362) centre (4.7756, 32.2362) ccw projected
  line L9 (4.5256, 32.2362) -> (4.5256, 31.7838) projected
  arc A4 (4.5256, 31.7838) -> (4.7538, 31.5348) centre (4.7756, 31.7838) ccw projected
  line L10 (4.7538, 31.5348) -> (5.1203, 31.5027) projected
  arc A5 (5.3101, 31.3868) -> (5.1203, 31.5027) centre (5.0985, 31.2536) ccw projected
  arc A6 (5.3101, 31.3868) -> (5.8704, 30.9159) centre (6.3256, 32.0262) ccw projected
  arc A7 (6.0256, 30.6846) -> (5.8704, 30.9159) centre (5.7756, 30.6846) ccw projected
  line L11 (6.0256, 30.6846) -> (6.0256, 30.01) projected
  line L12 (6.0256, 30.01) -> (5.5256, 29.51) projected
  line L13 (5.5256, 29.51) -> (-5.4744, 29.51) projected
  line L14 (-5.4744, 29.51) -> (-5.9744, 30.01) projected
  line L15 (-5.9744, 30.01) -> (-5.9744, 30.6846) projected
  arc A8 (-5.8192, 30.9159) -> (-5.9744, 30.6846) centre (-5.7244, 30.6846) ccw projected
  arc A9 (-5.8192, 30.9159) -> (-5.259, 31.3868) centre (-6.2744, 32.0262) ccw projected
  arc A10 (-5.0692, 31.5027) -> (-5.259, 31.3868) centre (-5.0474, 31.2536) ccw projected
  line L16 (-5.0692, 31.5027) -> (-4.7026, 31.5347) projected
  arc A11 (-4.7026, 31.5347) -> (-4.4744, 31.7838) centre (-4.7244, 31.7838) ccw projected
  line L17 (-4.4744, 31.7838) -> (-4.4744, 32.2362) projected
  arc A12 (-4.4744, 32.2362) -> (-4.7026, 32.4853) centre (-4.7244, 32.2362) ccw projected
  line L18 (-4.7026, 32.4853) -> (-5.0482, 32.5155) projected
  arc A13 (-5.2416, 32.6373) -> (-5.0482, 32.5155) centre (-5.0265, 32.7645) ccw projected
  arc A14 (-5.2416, 32.6373) -> (-5.8192, 33.1366) centre (-6.2744, 32.0262) ccw projected
  arc A15 (-5.9744, 33.3679) -> (-5.8192, 33.1366) centre (-5.7244, 33.3679) ccw projected
  line L19 (-5.9744, 33.3679) -> (-5.9744, 34.51) projected
  line L20 (-5.9744, 34.51) -> (-12.5744, 34.51) projected
  line L21 (-12.5744, 34.51) -> (-13.1744, 33.91) projected
  circle A16 centre (-6.8744, 27.505) radius 2.1 projected
  circle A17 centre (6.9256, 27.505) radius 2.1 projected
  line L22 (-6.4744, 28.46) -> (6.5256, 28.46)
  line L23 (6.5256, 28.46) -> (6.5256, 59.0305)
  line L24 (6.5256, 59.0305) -> (-6.4744, 59.0305)
  line L25 (-6.4744, 59.0305) -> (-6.4744, 28.46)
  point P0 (7.4556, 24.63)
  dimension "d99" = 0.5
  dimension "d100" = 0.5
extrude "Extrusion19" cut sketch "Sketch21" against normal through all contours L25 L24 L23 L6 L7 A0 A1 A2 L8 A3 L9 A4 L10 A5 A6 A7 L11 L12 L13 L14 L15 A8 A9 A10 L16 A11 L17 A12 L18 A13 A14 A15 L19 L20 | L20 L19 A15 A14 A13 L18 A12 L17 A11 L16 A10 A9 A8 L15 L14 L13 L12 L11 A7 A6 A5 L10 A4 L9 A3 L8 A2 A1 A0 L7 L6 L23 A17 L22 A16 L25 | A16 L22 L25 | A17 L23 L22 picked at (-5.5817, 28.592) picked at (5.6329, 28.592)
sketch "Sketch22" plane through (-7.4556, -9.4352, 24.63) normal (0, 1, 0) x (1, 0, 0)
  circle A0 centre (-0.9489, 24.63) radius 3
  circle A1 centre (-0.9489, 24.63) radius 1.5 projected
  point P0 (7.4556, 24.63)
  dimension "d103" = 6
extrude "Extrusion20" cut sketch "Sketch22" against normal blind 10 contours A0 | A1
sketch "Sketch23" plane through (-7.4556, -9.4352, 24.63) normal (0, 1, 0) x (1, 0, 0)
  circle A0 centre (11.5, 21.21) radius 1.025 projected
  circle A1 centre (-11.5, 21.21) radius 1.25 projected
  circle A2 centre (11.5, 21.21) radius 1.75
  circle A3 centre (-11.5, 21.21) radius 1.75
  point P0 (7.4556, 24.63)
  dimension "d106" = 3.5
  dimension "d107" = 3.5
extrude "Extrusion21" cut sketch "Sketch23" along normal through all both and the other way through all contours A0 | A1 | A2 | A3
ref_plane "Arbeitsebene9" through (5.8531, -16.4352, -32.6831) normal (0, 0, -1) x (-1, 0, 0)
sketch "Skizze24" plane through (5.8531, -16.4352, -32.6831) normal (0, 0, -1) x (-1, 0, 0)
  line L0 (6.7831, 0) -> (6.7831, 7) projected
  line L1 (-3.2076, 7) -> (6.7831, 7) projected
  line L2 (-3.2076, 0) -> (6.7831, 0) projected
  line L3 (19.7831, 7) -> (19.7831, 0) projected
  line L4 (29.8249, 0) -> (19.7831, 0) projected
  line L5 (29.8249, 7) -> (19.7831, 7) projected
  circle A0 centre (24.8086, 3.5) radius 1.4
  circle A1 centre (1.8086, 3.5) radius 1.4
  circle A2 centre (1.8086, 3.5) radius 3.5
  circle A3 centre (24.8086, 3.5) radius 3.5
  line L6 (29.8249, 0) -> (29.8249, 7) projected
  line L7 (-3.2076, 0) -> (-3.2076, 7) projected
  point P0 (5.8531, 16.4352)
  dimension "d118" = 2.8
  dimension "d119" = 2.8
extrude "Extrusion22" cut sketch "Skizze24" against normal up to surface (32.4018 mm away) contours A0 | A1
sketch "Skizze25" plane through (-7.4556, -9.4352, 24.63) normal (0, 1, 0) x (1, 0, 0)
  point P0 (7.4556, 24.63)
ref_plane "Work Plane10" through (-7.4556, -16.4352, -32.6831) normal (-1, 0, 0) x (0, 0, 1)
sketch "Sketch26" plane through (-7.4556, -9.4352, 24.63) normal (0, 1, 0) x (1, 0, 0)
  line L0 (12.9, 57.3131) -> (12.9, 35.2113) projected
  line L1 (10.1, 57.3131) -> (10.1, 35.2113) projected
  line L2 (-10.1, 57.3131) -> (-10.1, 35.2113) projected
  line L3 (-12.9, 57.3131) -> (-12.9, 35.2113) projected
  line L4 (8.75, 46.9665) -> (14.25, 46.9665)
  line L5 (14.25, 46.9665) -> (14.25, 49.9665)
  line L6 (14.25, 49.9665) -> (8.75, 49.9665)
  line L7 (8.75, 49.9665) -> (8.75, 46.9665)
  line L8 (8.75, 46.9665) -> (14.25, 49.9665) construction
  line L9 (14.25, 46.9665) -> (8.75, 49.9665) construction
  line L10 (-14.25, 46.9665) -> (-8.75, 46.9665)
  line L11 (-8.75, 46.9665) -> (-8.75, 49.9665)
  line L12 (-8.75, 49.9665) -> (-14.25, 49.9665)
  line L13 (-14.25, 49.9665) -> (-14.25, 46.9665)
  line L14 (-14.25, 46.9665) -> (-8.75, 49.9665) construction
  line L15 (-8.75, 46.9665) -> (-14.25, 49.9665) construction
  point P0 (7.4556, 24.63)
  point P1 (11.5, 48.4665)
  point P2 (-11.5, 48.4665)
  dimension "d122" = 5.5
  dimension "d123" = 3
  dimension "d124" = 5.5
  dimension "d125" = 1.4
  dimension "d126" = 1.4
  dimension "d127" = 2.8
extrude "Extrusion23" cut sketch "Sketch26" against normal blind 10
sketch "Sketch27" plane through (-9.8661, -9.4352, 2.6199) normal (0, 0, 1) x (1, 0, 0)
  line L0 (15.6605, -7) -> (12.1605, -7) projected
  circle A0 centre (-7.5895, 4.3) radius 1.5 projected
  circle A1 centre (12.4105, 4.3) radius 1.75 projected
  point P0 (9.8661, 9.4352)
hole "Hole2" at (-17.4556, -5.1352, 2.6199) at (2.5444, -5.1352, 2.6199) direction (0, 0, -1) diameter 3 end through all
sketch "Skizze28" plane through (-7.4556, -9.4352, 24.63) normal (0, 1, 0) x (1, 0, 0)
  circle A0 centre (6.4952, 13.46) radius 4 projected
  circle A1 centre (-6.4952, 13.46) radius 4 projected
  circle A2 centre (0, 2.21) radius 4 projected
  line L0 (6.4952, 13.46) -> (0, 2.21) construction
  line L1 (0, 2.21) -> (-6.4952, 13.46) construction
  line L2 (-6.4952, 13.46) -> (6.4952, 13.46) construction
  circle A3 centre (0, 9.71) radius 3.75 construction
  circle A4 centre (0, 9.71) radius 3.2023
  point P0 (7.4556, 24.63)
extrude "Extrusion24" cut sketch "Skizze28" against normal blind 10 contours A4
equation "\"d124\" = d122"
equation "\"d125\" = 0.5 * d127"
equation "\"d126\" = 0.5 * d127"
properties part number "30_Cube_Z_Focus_MGN12_NEMA_slide_part2_bolted"
